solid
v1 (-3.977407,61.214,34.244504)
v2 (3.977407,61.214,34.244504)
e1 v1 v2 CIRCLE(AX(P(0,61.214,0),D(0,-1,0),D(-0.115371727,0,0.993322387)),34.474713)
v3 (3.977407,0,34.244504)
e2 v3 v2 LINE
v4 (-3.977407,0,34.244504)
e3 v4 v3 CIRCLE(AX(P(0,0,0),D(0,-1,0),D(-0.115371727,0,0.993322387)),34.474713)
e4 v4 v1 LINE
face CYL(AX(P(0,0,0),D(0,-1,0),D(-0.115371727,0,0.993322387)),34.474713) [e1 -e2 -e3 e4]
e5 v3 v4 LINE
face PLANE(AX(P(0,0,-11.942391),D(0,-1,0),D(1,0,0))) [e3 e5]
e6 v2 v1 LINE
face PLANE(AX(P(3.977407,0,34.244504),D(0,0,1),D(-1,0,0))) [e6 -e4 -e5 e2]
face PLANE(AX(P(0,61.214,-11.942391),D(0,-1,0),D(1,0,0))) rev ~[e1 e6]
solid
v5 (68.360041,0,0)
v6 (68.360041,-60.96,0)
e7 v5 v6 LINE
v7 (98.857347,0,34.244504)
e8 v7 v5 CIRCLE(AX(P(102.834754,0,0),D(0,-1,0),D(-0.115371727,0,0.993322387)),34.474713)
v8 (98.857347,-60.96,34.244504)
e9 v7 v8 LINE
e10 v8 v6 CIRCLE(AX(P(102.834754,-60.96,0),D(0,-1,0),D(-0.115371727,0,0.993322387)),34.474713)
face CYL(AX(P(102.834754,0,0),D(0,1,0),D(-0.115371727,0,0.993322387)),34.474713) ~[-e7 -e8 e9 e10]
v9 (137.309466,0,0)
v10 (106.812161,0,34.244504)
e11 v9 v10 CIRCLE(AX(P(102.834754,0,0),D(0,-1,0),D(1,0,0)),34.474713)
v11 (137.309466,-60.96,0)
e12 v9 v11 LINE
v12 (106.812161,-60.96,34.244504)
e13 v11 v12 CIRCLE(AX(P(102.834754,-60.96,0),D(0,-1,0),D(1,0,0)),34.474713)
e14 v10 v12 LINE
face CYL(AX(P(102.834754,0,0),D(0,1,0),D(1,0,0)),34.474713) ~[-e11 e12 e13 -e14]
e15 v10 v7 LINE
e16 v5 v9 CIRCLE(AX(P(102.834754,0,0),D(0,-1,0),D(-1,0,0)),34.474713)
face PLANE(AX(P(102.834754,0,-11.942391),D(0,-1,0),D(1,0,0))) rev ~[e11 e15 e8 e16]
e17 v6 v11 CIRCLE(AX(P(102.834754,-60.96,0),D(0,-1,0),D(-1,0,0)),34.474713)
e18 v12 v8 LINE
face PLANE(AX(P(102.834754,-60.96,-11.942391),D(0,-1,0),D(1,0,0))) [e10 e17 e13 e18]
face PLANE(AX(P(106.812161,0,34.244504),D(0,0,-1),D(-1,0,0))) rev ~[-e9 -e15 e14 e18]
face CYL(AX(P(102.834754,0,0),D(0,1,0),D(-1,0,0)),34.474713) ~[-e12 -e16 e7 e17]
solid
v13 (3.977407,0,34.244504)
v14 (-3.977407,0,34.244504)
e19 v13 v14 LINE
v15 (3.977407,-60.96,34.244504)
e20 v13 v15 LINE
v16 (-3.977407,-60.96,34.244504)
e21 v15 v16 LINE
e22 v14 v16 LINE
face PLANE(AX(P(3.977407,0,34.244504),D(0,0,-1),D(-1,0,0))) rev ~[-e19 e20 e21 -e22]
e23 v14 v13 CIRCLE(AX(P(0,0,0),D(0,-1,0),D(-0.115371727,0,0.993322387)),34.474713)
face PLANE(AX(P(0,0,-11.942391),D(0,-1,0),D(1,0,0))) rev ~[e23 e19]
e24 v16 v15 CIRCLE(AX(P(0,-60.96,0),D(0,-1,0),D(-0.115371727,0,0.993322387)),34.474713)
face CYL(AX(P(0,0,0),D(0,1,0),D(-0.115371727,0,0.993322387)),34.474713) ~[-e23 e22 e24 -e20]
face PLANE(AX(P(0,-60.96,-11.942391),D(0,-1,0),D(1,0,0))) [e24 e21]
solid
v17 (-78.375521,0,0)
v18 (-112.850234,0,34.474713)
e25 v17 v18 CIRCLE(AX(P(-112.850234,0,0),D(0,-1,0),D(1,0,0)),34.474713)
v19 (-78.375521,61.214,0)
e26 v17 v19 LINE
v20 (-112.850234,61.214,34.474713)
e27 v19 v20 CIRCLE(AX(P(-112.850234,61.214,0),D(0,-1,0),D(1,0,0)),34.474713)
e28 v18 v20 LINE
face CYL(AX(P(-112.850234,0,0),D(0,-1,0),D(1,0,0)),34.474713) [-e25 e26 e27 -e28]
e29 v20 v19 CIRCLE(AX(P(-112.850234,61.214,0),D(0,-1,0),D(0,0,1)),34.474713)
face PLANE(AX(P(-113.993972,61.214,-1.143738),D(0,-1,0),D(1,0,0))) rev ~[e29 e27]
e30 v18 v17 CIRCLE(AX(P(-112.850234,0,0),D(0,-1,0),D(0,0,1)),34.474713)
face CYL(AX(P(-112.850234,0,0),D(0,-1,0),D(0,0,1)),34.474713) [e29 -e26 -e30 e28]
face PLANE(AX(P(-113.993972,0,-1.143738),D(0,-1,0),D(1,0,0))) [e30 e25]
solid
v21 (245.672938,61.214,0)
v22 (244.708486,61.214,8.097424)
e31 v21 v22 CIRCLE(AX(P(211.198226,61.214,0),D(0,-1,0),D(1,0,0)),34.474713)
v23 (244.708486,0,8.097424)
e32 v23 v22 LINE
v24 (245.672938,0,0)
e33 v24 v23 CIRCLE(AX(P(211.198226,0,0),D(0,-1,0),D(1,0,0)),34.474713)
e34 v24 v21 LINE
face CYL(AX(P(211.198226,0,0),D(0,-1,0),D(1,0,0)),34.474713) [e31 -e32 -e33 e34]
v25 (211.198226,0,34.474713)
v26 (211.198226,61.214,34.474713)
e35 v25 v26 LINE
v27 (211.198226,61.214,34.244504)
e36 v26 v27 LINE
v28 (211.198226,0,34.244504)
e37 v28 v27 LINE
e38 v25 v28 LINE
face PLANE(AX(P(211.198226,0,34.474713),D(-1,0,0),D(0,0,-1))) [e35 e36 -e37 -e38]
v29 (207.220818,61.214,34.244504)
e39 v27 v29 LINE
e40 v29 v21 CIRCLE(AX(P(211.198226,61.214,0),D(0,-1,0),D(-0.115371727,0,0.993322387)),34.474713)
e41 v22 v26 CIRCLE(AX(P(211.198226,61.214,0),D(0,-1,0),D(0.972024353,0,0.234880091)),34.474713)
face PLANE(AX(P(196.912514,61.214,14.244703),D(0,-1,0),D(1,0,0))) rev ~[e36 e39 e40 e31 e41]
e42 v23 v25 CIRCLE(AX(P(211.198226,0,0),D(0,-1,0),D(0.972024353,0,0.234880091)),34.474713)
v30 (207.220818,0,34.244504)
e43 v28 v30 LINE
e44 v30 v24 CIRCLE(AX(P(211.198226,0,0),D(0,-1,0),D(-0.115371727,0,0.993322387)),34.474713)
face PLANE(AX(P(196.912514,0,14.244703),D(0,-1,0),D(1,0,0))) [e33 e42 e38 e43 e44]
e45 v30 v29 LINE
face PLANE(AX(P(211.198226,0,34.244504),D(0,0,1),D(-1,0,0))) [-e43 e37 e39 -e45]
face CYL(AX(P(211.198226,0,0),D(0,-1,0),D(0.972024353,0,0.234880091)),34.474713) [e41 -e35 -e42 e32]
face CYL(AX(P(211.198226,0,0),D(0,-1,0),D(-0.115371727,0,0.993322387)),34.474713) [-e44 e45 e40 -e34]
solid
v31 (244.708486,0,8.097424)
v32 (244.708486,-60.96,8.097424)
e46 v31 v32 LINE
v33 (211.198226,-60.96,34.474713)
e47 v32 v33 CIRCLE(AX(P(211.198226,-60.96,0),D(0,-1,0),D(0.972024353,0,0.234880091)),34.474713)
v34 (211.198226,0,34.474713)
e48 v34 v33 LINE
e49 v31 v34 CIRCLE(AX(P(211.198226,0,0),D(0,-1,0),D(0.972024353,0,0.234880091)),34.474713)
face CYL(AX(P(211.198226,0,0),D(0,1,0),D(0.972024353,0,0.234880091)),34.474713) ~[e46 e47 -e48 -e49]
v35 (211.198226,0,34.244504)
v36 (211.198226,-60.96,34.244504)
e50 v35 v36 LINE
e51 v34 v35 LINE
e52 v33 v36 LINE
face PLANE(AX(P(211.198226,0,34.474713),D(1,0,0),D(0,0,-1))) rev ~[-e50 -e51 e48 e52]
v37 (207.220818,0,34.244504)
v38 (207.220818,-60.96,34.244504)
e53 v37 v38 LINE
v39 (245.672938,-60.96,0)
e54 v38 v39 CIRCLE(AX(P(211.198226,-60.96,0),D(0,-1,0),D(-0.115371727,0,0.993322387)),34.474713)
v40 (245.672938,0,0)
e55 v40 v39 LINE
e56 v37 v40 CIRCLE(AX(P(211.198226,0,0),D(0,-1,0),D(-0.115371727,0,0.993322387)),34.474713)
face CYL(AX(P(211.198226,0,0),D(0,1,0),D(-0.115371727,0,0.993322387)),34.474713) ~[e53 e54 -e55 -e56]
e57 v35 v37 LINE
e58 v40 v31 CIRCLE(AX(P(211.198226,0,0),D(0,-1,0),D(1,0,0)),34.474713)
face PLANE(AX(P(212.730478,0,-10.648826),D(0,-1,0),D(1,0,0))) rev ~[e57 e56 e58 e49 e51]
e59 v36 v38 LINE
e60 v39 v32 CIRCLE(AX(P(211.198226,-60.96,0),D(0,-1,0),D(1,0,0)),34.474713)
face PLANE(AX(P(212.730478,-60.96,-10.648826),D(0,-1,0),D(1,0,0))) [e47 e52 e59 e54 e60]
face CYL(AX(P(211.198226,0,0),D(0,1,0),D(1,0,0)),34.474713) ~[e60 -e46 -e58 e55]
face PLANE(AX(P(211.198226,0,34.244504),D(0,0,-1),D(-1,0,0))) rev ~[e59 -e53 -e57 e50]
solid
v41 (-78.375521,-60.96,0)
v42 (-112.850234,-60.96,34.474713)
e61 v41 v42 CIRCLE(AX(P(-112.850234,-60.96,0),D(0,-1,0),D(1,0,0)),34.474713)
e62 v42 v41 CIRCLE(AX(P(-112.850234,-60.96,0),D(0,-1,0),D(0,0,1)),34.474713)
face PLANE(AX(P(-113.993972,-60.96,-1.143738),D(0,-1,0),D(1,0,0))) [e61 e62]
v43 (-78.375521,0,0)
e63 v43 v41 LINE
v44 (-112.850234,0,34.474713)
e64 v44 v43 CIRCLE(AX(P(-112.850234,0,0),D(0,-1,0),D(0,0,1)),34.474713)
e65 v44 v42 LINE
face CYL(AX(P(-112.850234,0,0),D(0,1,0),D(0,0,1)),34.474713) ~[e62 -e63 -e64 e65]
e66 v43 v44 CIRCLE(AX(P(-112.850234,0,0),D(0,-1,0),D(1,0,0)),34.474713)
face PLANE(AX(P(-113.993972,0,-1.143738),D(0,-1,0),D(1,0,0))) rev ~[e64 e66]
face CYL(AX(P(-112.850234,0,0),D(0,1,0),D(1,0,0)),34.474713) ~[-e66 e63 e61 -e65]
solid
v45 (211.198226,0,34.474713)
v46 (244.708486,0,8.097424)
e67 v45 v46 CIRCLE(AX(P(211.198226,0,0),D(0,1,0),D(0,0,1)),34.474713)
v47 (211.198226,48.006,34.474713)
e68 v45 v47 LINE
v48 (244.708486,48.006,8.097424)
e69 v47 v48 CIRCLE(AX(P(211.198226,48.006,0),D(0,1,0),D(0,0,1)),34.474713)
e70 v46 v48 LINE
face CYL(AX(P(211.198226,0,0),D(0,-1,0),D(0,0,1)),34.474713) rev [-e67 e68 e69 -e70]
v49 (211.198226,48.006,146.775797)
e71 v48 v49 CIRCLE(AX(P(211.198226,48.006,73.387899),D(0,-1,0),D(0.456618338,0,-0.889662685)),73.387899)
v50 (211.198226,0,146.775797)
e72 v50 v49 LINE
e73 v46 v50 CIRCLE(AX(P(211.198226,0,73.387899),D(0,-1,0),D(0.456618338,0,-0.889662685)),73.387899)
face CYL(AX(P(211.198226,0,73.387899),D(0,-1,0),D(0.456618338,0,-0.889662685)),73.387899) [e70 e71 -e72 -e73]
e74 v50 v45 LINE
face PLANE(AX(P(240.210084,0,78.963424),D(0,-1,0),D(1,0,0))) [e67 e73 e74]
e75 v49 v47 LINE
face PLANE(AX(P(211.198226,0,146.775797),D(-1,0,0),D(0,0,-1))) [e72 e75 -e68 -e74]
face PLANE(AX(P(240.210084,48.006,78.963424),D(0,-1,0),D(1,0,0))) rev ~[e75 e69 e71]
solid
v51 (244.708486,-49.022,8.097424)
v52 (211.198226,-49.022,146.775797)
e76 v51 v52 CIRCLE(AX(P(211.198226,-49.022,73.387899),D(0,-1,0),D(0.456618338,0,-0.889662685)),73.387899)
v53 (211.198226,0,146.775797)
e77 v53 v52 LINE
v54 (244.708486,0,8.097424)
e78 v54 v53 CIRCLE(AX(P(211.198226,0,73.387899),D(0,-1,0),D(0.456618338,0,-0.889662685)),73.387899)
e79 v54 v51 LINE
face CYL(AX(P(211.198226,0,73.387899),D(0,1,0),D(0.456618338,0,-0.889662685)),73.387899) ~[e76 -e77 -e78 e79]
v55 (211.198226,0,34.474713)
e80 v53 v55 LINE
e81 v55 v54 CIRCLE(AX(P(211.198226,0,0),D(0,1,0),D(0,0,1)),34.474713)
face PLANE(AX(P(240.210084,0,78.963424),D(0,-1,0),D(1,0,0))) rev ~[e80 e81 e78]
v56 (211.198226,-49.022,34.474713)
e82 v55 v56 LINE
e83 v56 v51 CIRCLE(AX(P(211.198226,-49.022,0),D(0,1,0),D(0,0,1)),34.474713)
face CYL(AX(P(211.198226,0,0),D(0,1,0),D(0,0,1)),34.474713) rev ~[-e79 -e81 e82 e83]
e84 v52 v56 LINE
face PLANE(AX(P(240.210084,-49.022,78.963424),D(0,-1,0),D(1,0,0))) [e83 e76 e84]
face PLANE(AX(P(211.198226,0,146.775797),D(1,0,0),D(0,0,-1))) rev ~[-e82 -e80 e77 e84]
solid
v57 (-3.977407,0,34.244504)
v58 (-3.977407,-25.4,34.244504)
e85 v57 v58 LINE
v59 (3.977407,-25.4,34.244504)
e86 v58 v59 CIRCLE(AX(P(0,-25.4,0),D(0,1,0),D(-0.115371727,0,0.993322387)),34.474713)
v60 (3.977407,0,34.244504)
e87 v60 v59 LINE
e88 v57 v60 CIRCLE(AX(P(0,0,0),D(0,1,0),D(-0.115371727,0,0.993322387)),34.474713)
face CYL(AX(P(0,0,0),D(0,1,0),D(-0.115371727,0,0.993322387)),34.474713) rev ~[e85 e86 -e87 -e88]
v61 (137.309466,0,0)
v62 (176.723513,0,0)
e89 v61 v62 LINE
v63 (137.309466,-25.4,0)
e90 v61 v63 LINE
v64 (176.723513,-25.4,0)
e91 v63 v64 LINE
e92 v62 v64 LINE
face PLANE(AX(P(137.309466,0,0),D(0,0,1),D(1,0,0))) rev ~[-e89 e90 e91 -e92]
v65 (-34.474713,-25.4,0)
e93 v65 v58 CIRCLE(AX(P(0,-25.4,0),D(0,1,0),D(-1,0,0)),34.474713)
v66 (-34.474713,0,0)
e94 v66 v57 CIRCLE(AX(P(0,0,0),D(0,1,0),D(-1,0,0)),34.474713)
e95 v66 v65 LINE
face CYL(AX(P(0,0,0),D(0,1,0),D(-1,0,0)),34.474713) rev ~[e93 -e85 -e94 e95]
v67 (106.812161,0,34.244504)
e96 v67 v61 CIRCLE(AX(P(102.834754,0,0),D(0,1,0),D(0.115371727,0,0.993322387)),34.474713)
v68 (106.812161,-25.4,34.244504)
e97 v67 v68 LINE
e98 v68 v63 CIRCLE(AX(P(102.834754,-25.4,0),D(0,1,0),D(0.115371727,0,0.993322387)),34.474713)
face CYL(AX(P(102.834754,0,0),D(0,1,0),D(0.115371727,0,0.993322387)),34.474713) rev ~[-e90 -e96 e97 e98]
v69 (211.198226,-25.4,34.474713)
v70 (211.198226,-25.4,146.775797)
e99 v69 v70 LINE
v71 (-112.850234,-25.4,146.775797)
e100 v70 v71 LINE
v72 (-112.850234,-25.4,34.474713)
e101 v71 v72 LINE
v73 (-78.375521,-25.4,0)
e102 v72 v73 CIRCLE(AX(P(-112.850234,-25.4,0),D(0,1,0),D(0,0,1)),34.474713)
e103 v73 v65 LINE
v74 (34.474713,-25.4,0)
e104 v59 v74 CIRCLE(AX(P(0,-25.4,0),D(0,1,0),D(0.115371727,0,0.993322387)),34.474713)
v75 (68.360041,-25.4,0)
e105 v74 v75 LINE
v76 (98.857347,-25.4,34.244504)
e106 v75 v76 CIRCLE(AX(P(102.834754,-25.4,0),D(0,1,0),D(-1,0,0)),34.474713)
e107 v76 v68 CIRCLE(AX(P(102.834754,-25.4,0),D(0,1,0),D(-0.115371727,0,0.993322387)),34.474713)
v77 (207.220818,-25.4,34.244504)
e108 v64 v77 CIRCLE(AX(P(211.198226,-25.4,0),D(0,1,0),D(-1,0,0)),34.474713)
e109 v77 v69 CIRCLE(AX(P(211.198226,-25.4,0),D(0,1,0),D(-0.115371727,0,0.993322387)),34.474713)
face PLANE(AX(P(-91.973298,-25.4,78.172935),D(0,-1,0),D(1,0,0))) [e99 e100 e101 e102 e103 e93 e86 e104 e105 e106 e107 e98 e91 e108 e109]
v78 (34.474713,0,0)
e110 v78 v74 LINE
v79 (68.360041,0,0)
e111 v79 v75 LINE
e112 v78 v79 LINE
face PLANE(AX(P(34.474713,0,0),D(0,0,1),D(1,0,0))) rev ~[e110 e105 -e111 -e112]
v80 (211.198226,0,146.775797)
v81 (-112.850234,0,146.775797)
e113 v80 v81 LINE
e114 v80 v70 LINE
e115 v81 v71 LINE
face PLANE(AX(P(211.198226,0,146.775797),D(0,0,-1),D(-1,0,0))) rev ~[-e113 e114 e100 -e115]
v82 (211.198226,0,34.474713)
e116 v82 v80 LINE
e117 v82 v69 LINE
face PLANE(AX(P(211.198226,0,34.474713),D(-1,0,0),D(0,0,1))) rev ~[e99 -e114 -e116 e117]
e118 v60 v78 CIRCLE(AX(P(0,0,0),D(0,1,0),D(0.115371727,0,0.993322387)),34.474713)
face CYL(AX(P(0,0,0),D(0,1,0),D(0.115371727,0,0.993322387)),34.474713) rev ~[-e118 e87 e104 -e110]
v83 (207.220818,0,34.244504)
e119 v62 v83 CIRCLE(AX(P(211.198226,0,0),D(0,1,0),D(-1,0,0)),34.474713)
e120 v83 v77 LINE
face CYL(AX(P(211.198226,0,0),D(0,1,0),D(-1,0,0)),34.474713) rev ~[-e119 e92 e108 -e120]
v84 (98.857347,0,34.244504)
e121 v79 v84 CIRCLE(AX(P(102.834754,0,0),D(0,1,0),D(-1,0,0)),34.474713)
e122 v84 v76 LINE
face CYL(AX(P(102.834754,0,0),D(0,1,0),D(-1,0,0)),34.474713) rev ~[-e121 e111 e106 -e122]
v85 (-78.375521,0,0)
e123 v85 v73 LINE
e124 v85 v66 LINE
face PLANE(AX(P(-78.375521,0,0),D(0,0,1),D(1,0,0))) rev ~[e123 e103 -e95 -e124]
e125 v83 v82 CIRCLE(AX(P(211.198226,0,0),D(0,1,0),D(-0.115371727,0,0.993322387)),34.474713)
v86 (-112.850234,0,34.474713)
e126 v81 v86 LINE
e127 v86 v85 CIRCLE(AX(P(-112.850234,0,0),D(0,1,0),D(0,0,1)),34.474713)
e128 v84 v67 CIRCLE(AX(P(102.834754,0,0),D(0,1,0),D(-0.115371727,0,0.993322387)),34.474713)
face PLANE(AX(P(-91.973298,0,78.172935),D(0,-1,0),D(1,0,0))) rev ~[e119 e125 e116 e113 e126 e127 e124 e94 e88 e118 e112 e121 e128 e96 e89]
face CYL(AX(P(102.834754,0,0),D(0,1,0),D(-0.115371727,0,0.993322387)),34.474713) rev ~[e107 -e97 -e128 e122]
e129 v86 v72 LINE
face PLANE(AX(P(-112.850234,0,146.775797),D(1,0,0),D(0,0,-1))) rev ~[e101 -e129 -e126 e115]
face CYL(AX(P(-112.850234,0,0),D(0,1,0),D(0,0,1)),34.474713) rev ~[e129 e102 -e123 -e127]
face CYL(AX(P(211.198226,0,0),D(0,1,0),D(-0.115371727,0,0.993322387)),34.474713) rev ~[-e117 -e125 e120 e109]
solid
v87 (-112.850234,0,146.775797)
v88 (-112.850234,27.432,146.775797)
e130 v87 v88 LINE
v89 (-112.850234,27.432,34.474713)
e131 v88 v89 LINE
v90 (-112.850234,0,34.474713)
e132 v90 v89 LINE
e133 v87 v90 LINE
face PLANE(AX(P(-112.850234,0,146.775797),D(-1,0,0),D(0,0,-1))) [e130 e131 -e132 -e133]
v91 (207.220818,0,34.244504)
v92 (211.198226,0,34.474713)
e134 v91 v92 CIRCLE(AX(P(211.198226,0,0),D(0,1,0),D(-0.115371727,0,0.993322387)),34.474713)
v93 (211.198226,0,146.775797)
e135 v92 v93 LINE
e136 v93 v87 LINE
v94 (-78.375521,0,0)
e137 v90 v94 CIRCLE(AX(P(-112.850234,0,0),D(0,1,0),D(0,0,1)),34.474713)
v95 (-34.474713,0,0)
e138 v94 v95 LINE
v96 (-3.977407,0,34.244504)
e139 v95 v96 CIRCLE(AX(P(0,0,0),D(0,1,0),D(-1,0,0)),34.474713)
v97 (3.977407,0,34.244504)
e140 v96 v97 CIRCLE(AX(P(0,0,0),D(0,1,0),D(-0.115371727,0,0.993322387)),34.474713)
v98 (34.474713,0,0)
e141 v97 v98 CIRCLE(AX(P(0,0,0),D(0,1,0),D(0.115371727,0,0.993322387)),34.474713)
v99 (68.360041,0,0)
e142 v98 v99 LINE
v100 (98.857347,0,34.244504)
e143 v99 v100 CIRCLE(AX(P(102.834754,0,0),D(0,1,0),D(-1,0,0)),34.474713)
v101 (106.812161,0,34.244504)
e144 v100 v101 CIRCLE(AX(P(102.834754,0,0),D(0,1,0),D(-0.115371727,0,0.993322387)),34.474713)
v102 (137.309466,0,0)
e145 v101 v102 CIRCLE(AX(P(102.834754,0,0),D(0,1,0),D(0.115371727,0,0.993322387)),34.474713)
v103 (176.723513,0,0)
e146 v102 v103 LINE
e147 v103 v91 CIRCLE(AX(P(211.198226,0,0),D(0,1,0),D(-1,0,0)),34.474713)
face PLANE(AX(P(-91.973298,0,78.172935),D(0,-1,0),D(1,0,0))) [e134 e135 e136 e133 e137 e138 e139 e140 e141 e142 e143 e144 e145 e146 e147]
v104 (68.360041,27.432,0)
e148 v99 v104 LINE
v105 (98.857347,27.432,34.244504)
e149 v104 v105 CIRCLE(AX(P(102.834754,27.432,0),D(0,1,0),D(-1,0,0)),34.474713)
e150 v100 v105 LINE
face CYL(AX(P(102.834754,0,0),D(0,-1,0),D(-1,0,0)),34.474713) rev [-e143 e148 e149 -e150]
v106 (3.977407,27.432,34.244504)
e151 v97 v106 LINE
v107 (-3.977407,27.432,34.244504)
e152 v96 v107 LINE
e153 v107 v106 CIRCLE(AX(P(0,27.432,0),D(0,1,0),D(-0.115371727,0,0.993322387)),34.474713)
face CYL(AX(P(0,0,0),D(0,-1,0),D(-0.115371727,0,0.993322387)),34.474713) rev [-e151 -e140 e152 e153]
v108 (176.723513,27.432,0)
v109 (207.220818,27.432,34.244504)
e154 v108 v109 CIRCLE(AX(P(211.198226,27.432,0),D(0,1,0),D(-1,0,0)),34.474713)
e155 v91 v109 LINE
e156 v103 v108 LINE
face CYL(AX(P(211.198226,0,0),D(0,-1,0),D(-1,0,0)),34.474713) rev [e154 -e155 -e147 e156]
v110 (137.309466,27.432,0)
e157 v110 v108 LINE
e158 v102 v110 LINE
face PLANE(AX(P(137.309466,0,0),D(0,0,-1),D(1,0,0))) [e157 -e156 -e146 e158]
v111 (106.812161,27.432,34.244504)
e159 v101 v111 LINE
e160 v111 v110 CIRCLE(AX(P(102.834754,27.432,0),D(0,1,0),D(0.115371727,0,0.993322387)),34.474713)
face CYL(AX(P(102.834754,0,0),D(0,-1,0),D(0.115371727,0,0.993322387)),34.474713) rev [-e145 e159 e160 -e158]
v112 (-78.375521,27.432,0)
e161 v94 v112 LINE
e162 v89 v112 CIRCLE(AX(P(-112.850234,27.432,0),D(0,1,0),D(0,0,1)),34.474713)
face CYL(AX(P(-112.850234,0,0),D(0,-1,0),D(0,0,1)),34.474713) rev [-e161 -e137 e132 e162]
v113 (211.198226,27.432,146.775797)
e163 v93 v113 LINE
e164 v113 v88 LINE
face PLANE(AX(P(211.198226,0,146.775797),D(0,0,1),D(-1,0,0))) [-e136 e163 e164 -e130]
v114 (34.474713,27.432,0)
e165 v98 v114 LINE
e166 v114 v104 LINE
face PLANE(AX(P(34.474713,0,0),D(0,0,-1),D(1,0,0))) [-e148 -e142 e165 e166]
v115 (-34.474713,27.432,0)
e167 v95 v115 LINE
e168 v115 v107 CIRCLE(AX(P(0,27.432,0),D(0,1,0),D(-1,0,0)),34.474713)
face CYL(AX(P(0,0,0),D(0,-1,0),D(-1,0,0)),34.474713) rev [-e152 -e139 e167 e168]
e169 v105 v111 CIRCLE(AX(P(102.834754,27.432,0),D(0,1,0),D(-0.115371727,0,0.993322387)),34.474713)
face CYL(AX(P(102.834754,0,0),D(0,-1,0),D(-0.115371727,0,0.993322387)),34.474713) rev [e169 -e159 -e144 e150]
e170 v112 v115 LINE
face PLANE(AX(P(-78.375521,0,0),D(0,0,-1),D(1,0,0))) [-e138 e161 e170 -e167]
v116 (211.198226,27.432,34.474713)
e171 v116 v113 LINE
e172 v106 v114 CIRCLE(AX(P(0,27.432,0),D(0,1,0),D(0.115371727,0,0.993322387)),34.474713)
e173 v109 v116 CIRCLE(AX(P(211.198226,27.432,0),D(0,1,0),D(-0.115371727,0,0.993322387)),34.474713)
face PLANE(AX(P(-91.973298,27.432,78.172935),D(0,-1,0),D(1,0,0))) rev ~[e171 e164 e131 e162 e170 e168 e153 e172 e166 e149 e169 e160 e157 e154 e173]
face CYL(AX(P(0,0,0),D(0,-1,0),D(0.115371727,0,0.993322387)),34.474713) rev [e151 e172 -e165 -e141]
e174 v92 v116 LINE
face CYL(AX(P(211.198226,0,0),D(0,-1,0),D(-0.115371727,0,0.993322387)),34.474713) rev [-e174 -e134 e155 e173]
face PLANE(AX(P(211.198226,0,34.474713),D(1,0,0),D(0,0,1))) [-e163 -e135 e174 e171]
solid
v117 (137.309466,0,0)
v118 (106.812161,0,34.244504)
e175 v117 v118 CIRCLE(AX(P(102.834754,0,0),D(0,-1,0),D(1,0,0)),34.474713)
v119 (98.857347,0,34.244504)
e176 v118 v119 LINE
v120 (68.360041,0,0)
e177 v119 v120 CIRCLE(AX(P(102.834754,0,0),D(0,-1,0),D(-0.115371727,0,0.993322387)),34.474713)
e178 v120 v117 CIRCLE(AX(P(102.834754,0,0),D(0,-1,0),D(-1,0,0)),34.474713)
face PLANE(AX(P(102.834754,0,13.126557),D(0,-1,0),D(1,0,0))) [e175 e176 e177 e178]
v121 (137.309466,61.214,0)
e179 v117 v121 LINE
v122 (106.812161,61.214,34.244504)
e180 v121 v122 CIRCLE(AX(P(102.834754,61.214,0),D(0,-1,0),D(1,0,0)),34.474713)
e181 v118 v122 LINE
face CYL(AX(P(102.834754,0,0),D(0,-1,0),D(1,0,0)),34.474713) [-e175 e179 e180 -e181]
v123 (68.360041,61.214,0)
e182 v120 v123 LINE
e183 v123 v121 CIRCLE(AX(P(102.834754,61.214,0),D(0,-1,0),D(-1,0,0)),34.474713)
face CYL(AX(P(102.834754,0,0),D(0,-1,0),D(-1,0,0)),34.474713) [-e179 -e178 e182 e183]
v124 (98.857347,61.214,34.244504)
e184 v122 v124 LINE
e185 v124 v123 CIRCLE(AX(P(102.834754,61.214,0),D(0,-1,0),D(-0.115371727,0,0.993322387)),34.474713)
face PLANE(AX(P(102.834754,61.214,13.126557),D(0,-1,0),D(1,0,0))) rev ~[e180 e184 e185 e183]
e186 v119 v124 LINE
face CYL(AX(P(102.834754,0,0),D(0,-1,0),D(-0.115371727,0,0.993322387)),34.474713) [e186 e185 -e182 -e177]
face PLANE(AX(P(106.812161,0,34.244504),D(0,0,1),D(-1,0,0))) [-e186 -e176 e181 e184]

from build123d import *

# Parameters (mm, degrees)
F1_DEPTH = 60.96
F2_DEPTH = 61.214
F0_W     = 287.0590090752
F0_H     = 33.863581717
F3_DEPTH = 25.4
F4_DEPTH = 27.432
F5_DEPTH = 49.022
F6_DEPTH = 48.006


with BuildPart() as f1:
    # F0 (on Front) → F1 (new body)
    with BuildSketch(Plane.XZ):
        with BuildLine():
            ThreePointArc((-112.8502339125, 34.4747126152), (-137.2275369821, -24.3773030697), (-78.3755212973, 0))
            Line((-78.3755212973, 0), (-112.8502339125, 0))
            Line((-112.8502339125, 0), (-112.8502339125, 34.4747126152))
        make_face()
        with BuildLine():
            Line((-112.8502339125, 0), (-78.3755212973, 0))
            ThreePointArc((-78.3755212973, 0), (-88.4729308428, 24.3773030697), (-112.8502339125, 34.4747126152))
            Line((-112.8502339125, 34.4747126152), (-112.8502339125, 0))
        make_face()
    extrude(amount=F1_DEPTH)


with BuildPart() as f1b:
    # F0 (on Front) → F1, piece 2 (new body)
    with BuildSketch(Plane.XZ):
        with BuildLine():
            Line((34.4747126152, 0), (-34.4747126152, 0))
            ThreePointArc((-34.4747126152, 0), (0, -34.4747126152), (34.4747126152, 0))
        make_face()
        with BuildLine():
            ThreePointArc((-3.9774071478, 34.2445038259), (-25.7451527309, 22.9279942595), (-34.4747126152, 0))
            Line((-34.4747126152, 0), (34.4747126152, 0))
            ThreePointArc((34.4747126152, 0), (25.7451527309, 22.9279942595), (3.9774071478, 34.2445038259))
            Line((3.9774071478, 34.2445038259), (-3.9774071478, 34.2445038259))
        make_face()
    extrude(amount=F1_DEPTH)


with BuildPart() as f1c:
    # F0 (on Front) → F1, piece 3 (new body)
    with BuildSketch(Plane.XZ):
        with BuildLine():
            Line((137.3094663074, 0), (68.3600410769, 0))
            ThreePointArc((68.3600410769, 0), (102.8347536922, -34.4747126152), (137.3094663074, 0))
        make_face()
        with BuildLine():
            ThreePointArc((98.8573465443, 34.2445038259), (77.0896009612, 22.9279942595), (68.3600410769, 0))
            Line((68.3600410769, 0), (137.3094663074, 0))
            ThreePointArc((137.3094663074, 0), (128.5799064231, 22.9279942595), (106.81216084, 34.2445038259))
            Line((106.81216084, 34.2445038259), (98.8573465443, 34.2445038259))
        make_face()
    extrude(amount=F1_DEPTH)


with BuildPart() as f1d:
    # F0 (on Front) → F1, piece 4 (new body)
    with BuildSketch(Plane.XZ):
        with BuildLine():
            Line((211.1982256174, 0), (176.7235130022, 0))
            ThreePointArc((176.7235130022, 0), (211.1982256174, -34.4747126152), (245.6729382326, 0))
            ThreePointArc((245.6729382326, 0), (245.4309760234, 4.0773287267), (244.7084858393, 8.0974236497))
            ThreePointArc((244.7084858393, 8.0974236497), (228.435581925, 2.0530739485), (211.1982256174, 0))
        make_face()
        with BuildLine():
            ThreePointArc((207.2208184696, 34.2445038259), (185.4530728865, 22.9279942595), (176.7235130022, 0))
            Line((176.7235130022, 0), (211.1982256174, 0))
            Line((211.1982256174, 0), (211.1982256174, 34.2445038259))
            Line((211.1982256174, 34.2445038259), (207.2208184696, 34.2445038259))
        make_face()
        with BuildLine():
            ThreePointArc((244.7084858393, 8.0974236497), (232.5213287764, 27.0893167425), (211.1982256174, 34.4747126152))
            Line((211.1982256174, 34.4747126152), (211.1982256174, 34.2445038259))
            Line((211.1982256174, 34.2445038259), (211.1982256174, 0))
            ThreePointArc((211.1982256174, 0), (228.435581925, 2.0530739485), (244.7084858393, 8.0974236497))
        make_face()
    extrude(amount=F1_DEPTH)


with BuildPart() as f2:
    # F0 (on Front) → F2 (new body)
    with BuildSketch(Plane.XZ):
        with BuildLine():
            ThreePointArc((-112.8502339125, 34.4747126152), (-137.2275369821, -24.3773030697), (-78.3755212973, 0))
            Line((-78.3755212973, 0), (-112.8502339125, 0))
            Line((-112.8502339125, 0), (-112.8502339125, 34.4747126152))
        make_face()
        with BuildLine():
            Line((-112.8502339125, 0), (-78.3755212973, 0))
            ThreePointArc((-78.3755212973, 0), (-88.4729308428, 24.3773030697), (-112.8502339125, 34.4747126152))
            Line((-112.8502339125, 34.4747126152), (-112.8502339125, 0))
        make_face()
    extrude(amount=-F2_DEPTH)


with BuildPart() as f2b:
    # F0 (on Front) → F2, piece 2 (new body)
    with BuildSketch(Plane.XZ):
        with BuildLine():
            Line((34.4747126152, 0), (-34.4747126152, 0))
            ThreePointArc((-34.4747126152, 0), (0, -34.4747126152), (34.4747126152, 0))
        make_face()
        with BuildLine():
            ThreePointArc((-3.9774071478, 34.2445038259), (-25.7451527309, 22.9279942595), (-34.4747126152, 0))
            Line((-34.4747126152, 0), (34.4747126152, 0))
            ThreePointArc((34.4747126152, 0), (25.7451527309, 22.9279942595), (3.9774071478, 34.2445038259))
            Line((3.9774071478, 34.2445038259), (-3.9774071478, 34.2445038259))
        make_face()
    extrude(amount=-F2_DEPTH)


with BuildPart() as f2c:
    # F0 (on Front) → F2, piece 3 (new body)
    with BuildSketch(Plane.XZ):
        with BuildLine():
            ThreePointArc((98.8573465443, 34.2445038259), (77.0896009612, 22.9279942595), (68.3600410769, 0))
            Line((68.3600410769, 0), (137.3094663074, 0))
            ThreePointArc((137.3094663074, 0), (128.5799064231, 22.9279942595), (106.81216084, 34.2445038259))
            Line((106.81216084, 34.2445038259), (98.8573465443, 34.2445038259))
        make_face()
        with BuildLine():
            Line((137.3094663074, 0), (68.3600410769, 0))
            ThreePointArc((68.3600410769, 0), (102.8347536922, -34.4747126152), (137.3094663074, 0))
        make_face()
    extrude(amount=-F2_DEPTH)


with BuildPart() as f2d:
    # F0 (on Front) → F2, piece 4 (new body)
    with BuildSketch(Plane.XZ):
        with BuildLine():
            ThreePointArc((207.2208184696, 34.2445038259), (185.4530728865, 22.9279942595), (176.7235130022, 0))
            Line((176.7235130022, 0), (211.1982256174, 0))
            Line((211.1982256174, 0), (211.1982256174, 34.2445038259))
            Line((211.1982256174, 34.2445038259), (207.2208184696, 34.2445038259))
        make_face()
        with BuildLine():
            ThreePointArc((244.7084858393, 8.0974236497), (232.5213287764, 27.0893167425), (211.1982256174, 34.4747126152))
            Line((211.1982256174, 34.4747126152), (211.1982256174, 34.2445038259))
            Line((211.1982256174, 34.2445038259), (211.1982256174, 0))
            ThreePointArc((211.1982256174, 0), (228.435581925, 2.0530739485), (244.7084858393, 8.0974236497))
        make_face()
        with BuildLine():
            Line((211.1982256174, 0), (176.7235130022, 0))
            ThreePointArc((176.7235130022, 0), (211.1982256174, -34.4747126152), (245.6729382326, 0))
            ThreePointArc((245.6729382326, 0), (245.4309760234, 4.0773287267), (244.7084858393, 8.0974236497))
            ThreePointArc((244.7084858393, 8.0974236497), (228.435581925, 2.0530739485), (211.1982256174, 0))
        make_face()
    extrude(amount=-F2_DEPTH)


with BuildPart() as f3:
    # F0 (on Front) → F3 (new body)
    with BuildSketch(Plane.XZ):
        with BuildLine():
            Line((-78.3755212973, 0), (-75.8607834578, 0))
            Line((-75.8607834578, 0), (-75.8607834578, 34.2445038259))
            Line((-75.8607834578, 34.2445038259), (-75.8607834578, 112.9122152925))
            Line((-75.8607834578, 112.9122152925), (-75.8607834578, 146.7757970095))
            Line((-75.8607834578, 146.7757970095), (-112.8502339125, 146.7757970095))
            Line((-112.8502339125, 146.7757970095), (-112.8502339125, 34.4747126152))
            ThreePointArc((-112.8502339125, 34.4747126152), (-88.4729308428, 24.3773030697), (-78.3755212973, 0))
        make_face()
        with BuildLine():
            Line((-75.8607834578, 34.2445038259), (-75.8607834578, 0))
            Line((-75.8607834578, 0), (-34.4747126152, 0))
            ThreePointArc((-34.4747126152, 0), (-25.7451527309, 22.9279942595), (-3.9774071478, 34.2445038259))
            Line((-3.9774071478, 34.2445038259), (-75.8607834578, 34.2445038259))
        make_face()
        with BuildLine():
            ThreePointArc((3.9774071478, 34.2445038259), (25.7451527309, 22.9279942595), (34.4747126152, 0))
            Line((34.4747126152, 0), (68.3600410769, 0))
            ThreePointArc((68.3600410769, 0), (77.0896009612, 22.9279942595), (98.8573465443, 34.2445038259))
            Line((98.8573465443, 34.2445038259), (3.9774071478, 34.2445038259))
        make_face()
        with BuildLine():
            ThreePointArc((106.81216084, 34.2445038259), (128.5799064231, 22.9279942595), (137.3094663074, 0))
            Line((137.3094663074, 0), (176.7235130022, 0))
            ThreePointArc((176.7235130022, 0), (185.4530728865, 22.9279942595), (207.2208184696, 34.2445038259))
            Line((207.2208184696, 34.2445038259), (106.81216084, 34.2445038259))
        make_face()
        with Locations((67.6687210798, 129.844006151)):
            Rectangle(F0_W, F0_H)
        with BuildLine():
            Line((-75.8607834578, 112.9122152925), (-75.8607834578, 34.2445038259))
            Line((-75.8607834578, 34.2445038259), (-3.9774071478, 34.2445038259))
            ThreePointArc((-3.9774071478, 34.2445038259), (0, 34.4747126152), (3.9774071478, 34.2445038259))
            Line((3.9774071478, 34.2445038259), (98.8573465443, 34.2445038259))
            ThreePointArc((98.8573465443, 34.2445038259), (102.8347536922, 34.4747126152), (106.81216084, 34.2445038259))
            Line((106.81216084, 34.2445038259), (207.2208184696, 34.2445038259))
            ThreePointArc((207.2208184696, 34.2445038259), (209.2061937586, 34.4171122986), (211.1982256174, 34.4747126152))
            Line((211.1982256174, 34.4747126152), (211.1982256174, 112.9122152925))
            Line((211.1982256174, 112.9122152925), (-75.8607834578, 112.9122152925))
        make_face()
    extrude(amount=F3_DEPTH)


with BuildPart() as f4:
    # F0 (on Front) → F4 (new body)
    with BuildSketch(Plane.XZ):
        with BuildLine():
            Line((-78.3755212973, 0), (-75.8607834578, 0))
            Line((-75.8607834578, 0), (-75.8607834578, 34.2445038259))
            Line((-75.8607834578, 34.2445038259), (-75.8607834578, 112.9122152925))
            Line((-75.8607834578, 112.9122152925), (-75.8607834578, 146.7757970095))
            Line((-75.8607834578, 146.7757970095), (-112.8502339125, 146.7757970095))
            Line((-112.8502339125, 146.7757970095), (-112.8502339125, 34.4747126152))
            ThreePointArc((-112.8502339125, 34.4747126152), (-88.4729308428, 24.3773030697), (-78.3755212973, 0))
        make_face()
        with BuildLine():
            Line((-75.8607834578, 34.2445038259), (-75.8607834578, 0))
            Line((-75.8607834578, 0), (-34.4747126152, 0))
            ThreePointArc((-34.4747126152, 0), (-25.7451527309, 22.9279942595), (-3.9774071478, 34.2445038259))
            Line((-3.9774071478, 34.2445038259), (-75.8607834578, 34.2445038259))
        make_face()
        with BuildLine():
            ThreePointArc((3.9774071478, 34.2445038259), (25.7451527309, 22.9279942595), (34.4747126152, 0))
            Line((34.4747126152, 0), (68.3600410769, 0))
            ThreePointArc((68.3600410769, 0), (77.0896009612, 22.9279942595), (98.8573465443, 34.2445038259))
            Line((98.8573465443, 34.2445038259), (3.9774071478, 34.2445038259))
        make_face()
        with BuildLine():
            ThreePointArc((106.81216084, 34.2445038259), (128.5799064231, 22.9279942595), (137.3094663074, 0))
            Line((137.3094663074, 0), (176.7235130022, 0))
            ThreePointArc((176.7235130022, 0), (185.4530728865, 22.9279942595), (207.2208184696, 34.2445038259))
            Line((207.2208184696, 34.2445038259), (106.81216084, 34.2445038259))
        make_face()
        with BuildLine():
            Line((-75.8607834578, 112.9122152925), (-75.8607834578, 34.2445038259))
            Line((-75.8607834578, 34.2445038259), (-3.9774071478, 34.2445038259))
            ThreePointArc((-3.9774071478, 34.2445038259), (0, 34.4747126152), (3.9774071478, 34.2445038259))
            Line((3.9774071478, 34.2445038259), (98.8573465443, 34.2445038259))
            ThreePointArc((98.8573465443, 34.2445038259), (102.8347536922, 34.4747126152), (106.81216084, 34.2445038259))
            Line((106.81216084, 34.2445038259), (207.2208184696, 34.2445038259))
            ThreePointArc((207.2208184696, 34.2445038259), (209.2061937586, 34.4171122986), (211.1982256174, 34.4747126152))
            Line((211.1982256174, 34.4747126152), (211.1982256174, 112.9122152925))
            Line((211.1982256174, 112.9122152925), (-75.8607834578, 112.9122152925))
        make_face()
        with Locations((67.6687210798, 129.844006151)):
            Rectangle(F0_W, F0_H)
    extrude(amount=-F4_DEPTH)


with BuildPart() as f5:
    # F0 (on Front) → F5 (new body)
    with BuildSketch(Plane.XZ):
        with BuildLine():
            Line((211.1982256174, 146.7757970095), (211.1982256174, 112.9122152925))
            Line((211.1982256174, 112.9122152925), (211.1982256174, 34.4747126152))
            ThreePointArc((211.1982256174, 34.4747126152), (232.5213287764, 27.0893167425), (244.7084858393, 8.0974236497))
            ThreePointArc((244.7084858393, 8.0974236497), (282.5330501736, 90.6252548123), (211.1982256174, 146.7757970095))
        make_face()
    extrude(amount=F5_DEPTH)


with BuildPart() as f6:
    # F0 (on Front) → F6 (new body)
    with BuildSketch(Plane.XZ):
        with BuildLine():
            Line((211.1982256174, 146.7757970095), (211.1982256174, 112.9122152925))
            Line((211.1982256174, 112.9122152925), (211.1982256174, 34.4747126152))
            ThreePointArc((211.1982256174, 34.4747126152), (232.5213287764, 27.0893167425), (244.7084858393, 8.0974236497))
            ThreePointArc((244.7084858393, 8.0974236497), (282.5330501736, 90.6252548123), (211.1982256174, 146.7757970095))
        make_face()
    extrude(amount=-F6_DEPTH)


solid = Compound([f1.part, f1b.part, f1c.part, f1d.part, f2.part, f2b.part, f2c.part, f2d.part, f3.part, f4.part, f5.part, f6.part])
